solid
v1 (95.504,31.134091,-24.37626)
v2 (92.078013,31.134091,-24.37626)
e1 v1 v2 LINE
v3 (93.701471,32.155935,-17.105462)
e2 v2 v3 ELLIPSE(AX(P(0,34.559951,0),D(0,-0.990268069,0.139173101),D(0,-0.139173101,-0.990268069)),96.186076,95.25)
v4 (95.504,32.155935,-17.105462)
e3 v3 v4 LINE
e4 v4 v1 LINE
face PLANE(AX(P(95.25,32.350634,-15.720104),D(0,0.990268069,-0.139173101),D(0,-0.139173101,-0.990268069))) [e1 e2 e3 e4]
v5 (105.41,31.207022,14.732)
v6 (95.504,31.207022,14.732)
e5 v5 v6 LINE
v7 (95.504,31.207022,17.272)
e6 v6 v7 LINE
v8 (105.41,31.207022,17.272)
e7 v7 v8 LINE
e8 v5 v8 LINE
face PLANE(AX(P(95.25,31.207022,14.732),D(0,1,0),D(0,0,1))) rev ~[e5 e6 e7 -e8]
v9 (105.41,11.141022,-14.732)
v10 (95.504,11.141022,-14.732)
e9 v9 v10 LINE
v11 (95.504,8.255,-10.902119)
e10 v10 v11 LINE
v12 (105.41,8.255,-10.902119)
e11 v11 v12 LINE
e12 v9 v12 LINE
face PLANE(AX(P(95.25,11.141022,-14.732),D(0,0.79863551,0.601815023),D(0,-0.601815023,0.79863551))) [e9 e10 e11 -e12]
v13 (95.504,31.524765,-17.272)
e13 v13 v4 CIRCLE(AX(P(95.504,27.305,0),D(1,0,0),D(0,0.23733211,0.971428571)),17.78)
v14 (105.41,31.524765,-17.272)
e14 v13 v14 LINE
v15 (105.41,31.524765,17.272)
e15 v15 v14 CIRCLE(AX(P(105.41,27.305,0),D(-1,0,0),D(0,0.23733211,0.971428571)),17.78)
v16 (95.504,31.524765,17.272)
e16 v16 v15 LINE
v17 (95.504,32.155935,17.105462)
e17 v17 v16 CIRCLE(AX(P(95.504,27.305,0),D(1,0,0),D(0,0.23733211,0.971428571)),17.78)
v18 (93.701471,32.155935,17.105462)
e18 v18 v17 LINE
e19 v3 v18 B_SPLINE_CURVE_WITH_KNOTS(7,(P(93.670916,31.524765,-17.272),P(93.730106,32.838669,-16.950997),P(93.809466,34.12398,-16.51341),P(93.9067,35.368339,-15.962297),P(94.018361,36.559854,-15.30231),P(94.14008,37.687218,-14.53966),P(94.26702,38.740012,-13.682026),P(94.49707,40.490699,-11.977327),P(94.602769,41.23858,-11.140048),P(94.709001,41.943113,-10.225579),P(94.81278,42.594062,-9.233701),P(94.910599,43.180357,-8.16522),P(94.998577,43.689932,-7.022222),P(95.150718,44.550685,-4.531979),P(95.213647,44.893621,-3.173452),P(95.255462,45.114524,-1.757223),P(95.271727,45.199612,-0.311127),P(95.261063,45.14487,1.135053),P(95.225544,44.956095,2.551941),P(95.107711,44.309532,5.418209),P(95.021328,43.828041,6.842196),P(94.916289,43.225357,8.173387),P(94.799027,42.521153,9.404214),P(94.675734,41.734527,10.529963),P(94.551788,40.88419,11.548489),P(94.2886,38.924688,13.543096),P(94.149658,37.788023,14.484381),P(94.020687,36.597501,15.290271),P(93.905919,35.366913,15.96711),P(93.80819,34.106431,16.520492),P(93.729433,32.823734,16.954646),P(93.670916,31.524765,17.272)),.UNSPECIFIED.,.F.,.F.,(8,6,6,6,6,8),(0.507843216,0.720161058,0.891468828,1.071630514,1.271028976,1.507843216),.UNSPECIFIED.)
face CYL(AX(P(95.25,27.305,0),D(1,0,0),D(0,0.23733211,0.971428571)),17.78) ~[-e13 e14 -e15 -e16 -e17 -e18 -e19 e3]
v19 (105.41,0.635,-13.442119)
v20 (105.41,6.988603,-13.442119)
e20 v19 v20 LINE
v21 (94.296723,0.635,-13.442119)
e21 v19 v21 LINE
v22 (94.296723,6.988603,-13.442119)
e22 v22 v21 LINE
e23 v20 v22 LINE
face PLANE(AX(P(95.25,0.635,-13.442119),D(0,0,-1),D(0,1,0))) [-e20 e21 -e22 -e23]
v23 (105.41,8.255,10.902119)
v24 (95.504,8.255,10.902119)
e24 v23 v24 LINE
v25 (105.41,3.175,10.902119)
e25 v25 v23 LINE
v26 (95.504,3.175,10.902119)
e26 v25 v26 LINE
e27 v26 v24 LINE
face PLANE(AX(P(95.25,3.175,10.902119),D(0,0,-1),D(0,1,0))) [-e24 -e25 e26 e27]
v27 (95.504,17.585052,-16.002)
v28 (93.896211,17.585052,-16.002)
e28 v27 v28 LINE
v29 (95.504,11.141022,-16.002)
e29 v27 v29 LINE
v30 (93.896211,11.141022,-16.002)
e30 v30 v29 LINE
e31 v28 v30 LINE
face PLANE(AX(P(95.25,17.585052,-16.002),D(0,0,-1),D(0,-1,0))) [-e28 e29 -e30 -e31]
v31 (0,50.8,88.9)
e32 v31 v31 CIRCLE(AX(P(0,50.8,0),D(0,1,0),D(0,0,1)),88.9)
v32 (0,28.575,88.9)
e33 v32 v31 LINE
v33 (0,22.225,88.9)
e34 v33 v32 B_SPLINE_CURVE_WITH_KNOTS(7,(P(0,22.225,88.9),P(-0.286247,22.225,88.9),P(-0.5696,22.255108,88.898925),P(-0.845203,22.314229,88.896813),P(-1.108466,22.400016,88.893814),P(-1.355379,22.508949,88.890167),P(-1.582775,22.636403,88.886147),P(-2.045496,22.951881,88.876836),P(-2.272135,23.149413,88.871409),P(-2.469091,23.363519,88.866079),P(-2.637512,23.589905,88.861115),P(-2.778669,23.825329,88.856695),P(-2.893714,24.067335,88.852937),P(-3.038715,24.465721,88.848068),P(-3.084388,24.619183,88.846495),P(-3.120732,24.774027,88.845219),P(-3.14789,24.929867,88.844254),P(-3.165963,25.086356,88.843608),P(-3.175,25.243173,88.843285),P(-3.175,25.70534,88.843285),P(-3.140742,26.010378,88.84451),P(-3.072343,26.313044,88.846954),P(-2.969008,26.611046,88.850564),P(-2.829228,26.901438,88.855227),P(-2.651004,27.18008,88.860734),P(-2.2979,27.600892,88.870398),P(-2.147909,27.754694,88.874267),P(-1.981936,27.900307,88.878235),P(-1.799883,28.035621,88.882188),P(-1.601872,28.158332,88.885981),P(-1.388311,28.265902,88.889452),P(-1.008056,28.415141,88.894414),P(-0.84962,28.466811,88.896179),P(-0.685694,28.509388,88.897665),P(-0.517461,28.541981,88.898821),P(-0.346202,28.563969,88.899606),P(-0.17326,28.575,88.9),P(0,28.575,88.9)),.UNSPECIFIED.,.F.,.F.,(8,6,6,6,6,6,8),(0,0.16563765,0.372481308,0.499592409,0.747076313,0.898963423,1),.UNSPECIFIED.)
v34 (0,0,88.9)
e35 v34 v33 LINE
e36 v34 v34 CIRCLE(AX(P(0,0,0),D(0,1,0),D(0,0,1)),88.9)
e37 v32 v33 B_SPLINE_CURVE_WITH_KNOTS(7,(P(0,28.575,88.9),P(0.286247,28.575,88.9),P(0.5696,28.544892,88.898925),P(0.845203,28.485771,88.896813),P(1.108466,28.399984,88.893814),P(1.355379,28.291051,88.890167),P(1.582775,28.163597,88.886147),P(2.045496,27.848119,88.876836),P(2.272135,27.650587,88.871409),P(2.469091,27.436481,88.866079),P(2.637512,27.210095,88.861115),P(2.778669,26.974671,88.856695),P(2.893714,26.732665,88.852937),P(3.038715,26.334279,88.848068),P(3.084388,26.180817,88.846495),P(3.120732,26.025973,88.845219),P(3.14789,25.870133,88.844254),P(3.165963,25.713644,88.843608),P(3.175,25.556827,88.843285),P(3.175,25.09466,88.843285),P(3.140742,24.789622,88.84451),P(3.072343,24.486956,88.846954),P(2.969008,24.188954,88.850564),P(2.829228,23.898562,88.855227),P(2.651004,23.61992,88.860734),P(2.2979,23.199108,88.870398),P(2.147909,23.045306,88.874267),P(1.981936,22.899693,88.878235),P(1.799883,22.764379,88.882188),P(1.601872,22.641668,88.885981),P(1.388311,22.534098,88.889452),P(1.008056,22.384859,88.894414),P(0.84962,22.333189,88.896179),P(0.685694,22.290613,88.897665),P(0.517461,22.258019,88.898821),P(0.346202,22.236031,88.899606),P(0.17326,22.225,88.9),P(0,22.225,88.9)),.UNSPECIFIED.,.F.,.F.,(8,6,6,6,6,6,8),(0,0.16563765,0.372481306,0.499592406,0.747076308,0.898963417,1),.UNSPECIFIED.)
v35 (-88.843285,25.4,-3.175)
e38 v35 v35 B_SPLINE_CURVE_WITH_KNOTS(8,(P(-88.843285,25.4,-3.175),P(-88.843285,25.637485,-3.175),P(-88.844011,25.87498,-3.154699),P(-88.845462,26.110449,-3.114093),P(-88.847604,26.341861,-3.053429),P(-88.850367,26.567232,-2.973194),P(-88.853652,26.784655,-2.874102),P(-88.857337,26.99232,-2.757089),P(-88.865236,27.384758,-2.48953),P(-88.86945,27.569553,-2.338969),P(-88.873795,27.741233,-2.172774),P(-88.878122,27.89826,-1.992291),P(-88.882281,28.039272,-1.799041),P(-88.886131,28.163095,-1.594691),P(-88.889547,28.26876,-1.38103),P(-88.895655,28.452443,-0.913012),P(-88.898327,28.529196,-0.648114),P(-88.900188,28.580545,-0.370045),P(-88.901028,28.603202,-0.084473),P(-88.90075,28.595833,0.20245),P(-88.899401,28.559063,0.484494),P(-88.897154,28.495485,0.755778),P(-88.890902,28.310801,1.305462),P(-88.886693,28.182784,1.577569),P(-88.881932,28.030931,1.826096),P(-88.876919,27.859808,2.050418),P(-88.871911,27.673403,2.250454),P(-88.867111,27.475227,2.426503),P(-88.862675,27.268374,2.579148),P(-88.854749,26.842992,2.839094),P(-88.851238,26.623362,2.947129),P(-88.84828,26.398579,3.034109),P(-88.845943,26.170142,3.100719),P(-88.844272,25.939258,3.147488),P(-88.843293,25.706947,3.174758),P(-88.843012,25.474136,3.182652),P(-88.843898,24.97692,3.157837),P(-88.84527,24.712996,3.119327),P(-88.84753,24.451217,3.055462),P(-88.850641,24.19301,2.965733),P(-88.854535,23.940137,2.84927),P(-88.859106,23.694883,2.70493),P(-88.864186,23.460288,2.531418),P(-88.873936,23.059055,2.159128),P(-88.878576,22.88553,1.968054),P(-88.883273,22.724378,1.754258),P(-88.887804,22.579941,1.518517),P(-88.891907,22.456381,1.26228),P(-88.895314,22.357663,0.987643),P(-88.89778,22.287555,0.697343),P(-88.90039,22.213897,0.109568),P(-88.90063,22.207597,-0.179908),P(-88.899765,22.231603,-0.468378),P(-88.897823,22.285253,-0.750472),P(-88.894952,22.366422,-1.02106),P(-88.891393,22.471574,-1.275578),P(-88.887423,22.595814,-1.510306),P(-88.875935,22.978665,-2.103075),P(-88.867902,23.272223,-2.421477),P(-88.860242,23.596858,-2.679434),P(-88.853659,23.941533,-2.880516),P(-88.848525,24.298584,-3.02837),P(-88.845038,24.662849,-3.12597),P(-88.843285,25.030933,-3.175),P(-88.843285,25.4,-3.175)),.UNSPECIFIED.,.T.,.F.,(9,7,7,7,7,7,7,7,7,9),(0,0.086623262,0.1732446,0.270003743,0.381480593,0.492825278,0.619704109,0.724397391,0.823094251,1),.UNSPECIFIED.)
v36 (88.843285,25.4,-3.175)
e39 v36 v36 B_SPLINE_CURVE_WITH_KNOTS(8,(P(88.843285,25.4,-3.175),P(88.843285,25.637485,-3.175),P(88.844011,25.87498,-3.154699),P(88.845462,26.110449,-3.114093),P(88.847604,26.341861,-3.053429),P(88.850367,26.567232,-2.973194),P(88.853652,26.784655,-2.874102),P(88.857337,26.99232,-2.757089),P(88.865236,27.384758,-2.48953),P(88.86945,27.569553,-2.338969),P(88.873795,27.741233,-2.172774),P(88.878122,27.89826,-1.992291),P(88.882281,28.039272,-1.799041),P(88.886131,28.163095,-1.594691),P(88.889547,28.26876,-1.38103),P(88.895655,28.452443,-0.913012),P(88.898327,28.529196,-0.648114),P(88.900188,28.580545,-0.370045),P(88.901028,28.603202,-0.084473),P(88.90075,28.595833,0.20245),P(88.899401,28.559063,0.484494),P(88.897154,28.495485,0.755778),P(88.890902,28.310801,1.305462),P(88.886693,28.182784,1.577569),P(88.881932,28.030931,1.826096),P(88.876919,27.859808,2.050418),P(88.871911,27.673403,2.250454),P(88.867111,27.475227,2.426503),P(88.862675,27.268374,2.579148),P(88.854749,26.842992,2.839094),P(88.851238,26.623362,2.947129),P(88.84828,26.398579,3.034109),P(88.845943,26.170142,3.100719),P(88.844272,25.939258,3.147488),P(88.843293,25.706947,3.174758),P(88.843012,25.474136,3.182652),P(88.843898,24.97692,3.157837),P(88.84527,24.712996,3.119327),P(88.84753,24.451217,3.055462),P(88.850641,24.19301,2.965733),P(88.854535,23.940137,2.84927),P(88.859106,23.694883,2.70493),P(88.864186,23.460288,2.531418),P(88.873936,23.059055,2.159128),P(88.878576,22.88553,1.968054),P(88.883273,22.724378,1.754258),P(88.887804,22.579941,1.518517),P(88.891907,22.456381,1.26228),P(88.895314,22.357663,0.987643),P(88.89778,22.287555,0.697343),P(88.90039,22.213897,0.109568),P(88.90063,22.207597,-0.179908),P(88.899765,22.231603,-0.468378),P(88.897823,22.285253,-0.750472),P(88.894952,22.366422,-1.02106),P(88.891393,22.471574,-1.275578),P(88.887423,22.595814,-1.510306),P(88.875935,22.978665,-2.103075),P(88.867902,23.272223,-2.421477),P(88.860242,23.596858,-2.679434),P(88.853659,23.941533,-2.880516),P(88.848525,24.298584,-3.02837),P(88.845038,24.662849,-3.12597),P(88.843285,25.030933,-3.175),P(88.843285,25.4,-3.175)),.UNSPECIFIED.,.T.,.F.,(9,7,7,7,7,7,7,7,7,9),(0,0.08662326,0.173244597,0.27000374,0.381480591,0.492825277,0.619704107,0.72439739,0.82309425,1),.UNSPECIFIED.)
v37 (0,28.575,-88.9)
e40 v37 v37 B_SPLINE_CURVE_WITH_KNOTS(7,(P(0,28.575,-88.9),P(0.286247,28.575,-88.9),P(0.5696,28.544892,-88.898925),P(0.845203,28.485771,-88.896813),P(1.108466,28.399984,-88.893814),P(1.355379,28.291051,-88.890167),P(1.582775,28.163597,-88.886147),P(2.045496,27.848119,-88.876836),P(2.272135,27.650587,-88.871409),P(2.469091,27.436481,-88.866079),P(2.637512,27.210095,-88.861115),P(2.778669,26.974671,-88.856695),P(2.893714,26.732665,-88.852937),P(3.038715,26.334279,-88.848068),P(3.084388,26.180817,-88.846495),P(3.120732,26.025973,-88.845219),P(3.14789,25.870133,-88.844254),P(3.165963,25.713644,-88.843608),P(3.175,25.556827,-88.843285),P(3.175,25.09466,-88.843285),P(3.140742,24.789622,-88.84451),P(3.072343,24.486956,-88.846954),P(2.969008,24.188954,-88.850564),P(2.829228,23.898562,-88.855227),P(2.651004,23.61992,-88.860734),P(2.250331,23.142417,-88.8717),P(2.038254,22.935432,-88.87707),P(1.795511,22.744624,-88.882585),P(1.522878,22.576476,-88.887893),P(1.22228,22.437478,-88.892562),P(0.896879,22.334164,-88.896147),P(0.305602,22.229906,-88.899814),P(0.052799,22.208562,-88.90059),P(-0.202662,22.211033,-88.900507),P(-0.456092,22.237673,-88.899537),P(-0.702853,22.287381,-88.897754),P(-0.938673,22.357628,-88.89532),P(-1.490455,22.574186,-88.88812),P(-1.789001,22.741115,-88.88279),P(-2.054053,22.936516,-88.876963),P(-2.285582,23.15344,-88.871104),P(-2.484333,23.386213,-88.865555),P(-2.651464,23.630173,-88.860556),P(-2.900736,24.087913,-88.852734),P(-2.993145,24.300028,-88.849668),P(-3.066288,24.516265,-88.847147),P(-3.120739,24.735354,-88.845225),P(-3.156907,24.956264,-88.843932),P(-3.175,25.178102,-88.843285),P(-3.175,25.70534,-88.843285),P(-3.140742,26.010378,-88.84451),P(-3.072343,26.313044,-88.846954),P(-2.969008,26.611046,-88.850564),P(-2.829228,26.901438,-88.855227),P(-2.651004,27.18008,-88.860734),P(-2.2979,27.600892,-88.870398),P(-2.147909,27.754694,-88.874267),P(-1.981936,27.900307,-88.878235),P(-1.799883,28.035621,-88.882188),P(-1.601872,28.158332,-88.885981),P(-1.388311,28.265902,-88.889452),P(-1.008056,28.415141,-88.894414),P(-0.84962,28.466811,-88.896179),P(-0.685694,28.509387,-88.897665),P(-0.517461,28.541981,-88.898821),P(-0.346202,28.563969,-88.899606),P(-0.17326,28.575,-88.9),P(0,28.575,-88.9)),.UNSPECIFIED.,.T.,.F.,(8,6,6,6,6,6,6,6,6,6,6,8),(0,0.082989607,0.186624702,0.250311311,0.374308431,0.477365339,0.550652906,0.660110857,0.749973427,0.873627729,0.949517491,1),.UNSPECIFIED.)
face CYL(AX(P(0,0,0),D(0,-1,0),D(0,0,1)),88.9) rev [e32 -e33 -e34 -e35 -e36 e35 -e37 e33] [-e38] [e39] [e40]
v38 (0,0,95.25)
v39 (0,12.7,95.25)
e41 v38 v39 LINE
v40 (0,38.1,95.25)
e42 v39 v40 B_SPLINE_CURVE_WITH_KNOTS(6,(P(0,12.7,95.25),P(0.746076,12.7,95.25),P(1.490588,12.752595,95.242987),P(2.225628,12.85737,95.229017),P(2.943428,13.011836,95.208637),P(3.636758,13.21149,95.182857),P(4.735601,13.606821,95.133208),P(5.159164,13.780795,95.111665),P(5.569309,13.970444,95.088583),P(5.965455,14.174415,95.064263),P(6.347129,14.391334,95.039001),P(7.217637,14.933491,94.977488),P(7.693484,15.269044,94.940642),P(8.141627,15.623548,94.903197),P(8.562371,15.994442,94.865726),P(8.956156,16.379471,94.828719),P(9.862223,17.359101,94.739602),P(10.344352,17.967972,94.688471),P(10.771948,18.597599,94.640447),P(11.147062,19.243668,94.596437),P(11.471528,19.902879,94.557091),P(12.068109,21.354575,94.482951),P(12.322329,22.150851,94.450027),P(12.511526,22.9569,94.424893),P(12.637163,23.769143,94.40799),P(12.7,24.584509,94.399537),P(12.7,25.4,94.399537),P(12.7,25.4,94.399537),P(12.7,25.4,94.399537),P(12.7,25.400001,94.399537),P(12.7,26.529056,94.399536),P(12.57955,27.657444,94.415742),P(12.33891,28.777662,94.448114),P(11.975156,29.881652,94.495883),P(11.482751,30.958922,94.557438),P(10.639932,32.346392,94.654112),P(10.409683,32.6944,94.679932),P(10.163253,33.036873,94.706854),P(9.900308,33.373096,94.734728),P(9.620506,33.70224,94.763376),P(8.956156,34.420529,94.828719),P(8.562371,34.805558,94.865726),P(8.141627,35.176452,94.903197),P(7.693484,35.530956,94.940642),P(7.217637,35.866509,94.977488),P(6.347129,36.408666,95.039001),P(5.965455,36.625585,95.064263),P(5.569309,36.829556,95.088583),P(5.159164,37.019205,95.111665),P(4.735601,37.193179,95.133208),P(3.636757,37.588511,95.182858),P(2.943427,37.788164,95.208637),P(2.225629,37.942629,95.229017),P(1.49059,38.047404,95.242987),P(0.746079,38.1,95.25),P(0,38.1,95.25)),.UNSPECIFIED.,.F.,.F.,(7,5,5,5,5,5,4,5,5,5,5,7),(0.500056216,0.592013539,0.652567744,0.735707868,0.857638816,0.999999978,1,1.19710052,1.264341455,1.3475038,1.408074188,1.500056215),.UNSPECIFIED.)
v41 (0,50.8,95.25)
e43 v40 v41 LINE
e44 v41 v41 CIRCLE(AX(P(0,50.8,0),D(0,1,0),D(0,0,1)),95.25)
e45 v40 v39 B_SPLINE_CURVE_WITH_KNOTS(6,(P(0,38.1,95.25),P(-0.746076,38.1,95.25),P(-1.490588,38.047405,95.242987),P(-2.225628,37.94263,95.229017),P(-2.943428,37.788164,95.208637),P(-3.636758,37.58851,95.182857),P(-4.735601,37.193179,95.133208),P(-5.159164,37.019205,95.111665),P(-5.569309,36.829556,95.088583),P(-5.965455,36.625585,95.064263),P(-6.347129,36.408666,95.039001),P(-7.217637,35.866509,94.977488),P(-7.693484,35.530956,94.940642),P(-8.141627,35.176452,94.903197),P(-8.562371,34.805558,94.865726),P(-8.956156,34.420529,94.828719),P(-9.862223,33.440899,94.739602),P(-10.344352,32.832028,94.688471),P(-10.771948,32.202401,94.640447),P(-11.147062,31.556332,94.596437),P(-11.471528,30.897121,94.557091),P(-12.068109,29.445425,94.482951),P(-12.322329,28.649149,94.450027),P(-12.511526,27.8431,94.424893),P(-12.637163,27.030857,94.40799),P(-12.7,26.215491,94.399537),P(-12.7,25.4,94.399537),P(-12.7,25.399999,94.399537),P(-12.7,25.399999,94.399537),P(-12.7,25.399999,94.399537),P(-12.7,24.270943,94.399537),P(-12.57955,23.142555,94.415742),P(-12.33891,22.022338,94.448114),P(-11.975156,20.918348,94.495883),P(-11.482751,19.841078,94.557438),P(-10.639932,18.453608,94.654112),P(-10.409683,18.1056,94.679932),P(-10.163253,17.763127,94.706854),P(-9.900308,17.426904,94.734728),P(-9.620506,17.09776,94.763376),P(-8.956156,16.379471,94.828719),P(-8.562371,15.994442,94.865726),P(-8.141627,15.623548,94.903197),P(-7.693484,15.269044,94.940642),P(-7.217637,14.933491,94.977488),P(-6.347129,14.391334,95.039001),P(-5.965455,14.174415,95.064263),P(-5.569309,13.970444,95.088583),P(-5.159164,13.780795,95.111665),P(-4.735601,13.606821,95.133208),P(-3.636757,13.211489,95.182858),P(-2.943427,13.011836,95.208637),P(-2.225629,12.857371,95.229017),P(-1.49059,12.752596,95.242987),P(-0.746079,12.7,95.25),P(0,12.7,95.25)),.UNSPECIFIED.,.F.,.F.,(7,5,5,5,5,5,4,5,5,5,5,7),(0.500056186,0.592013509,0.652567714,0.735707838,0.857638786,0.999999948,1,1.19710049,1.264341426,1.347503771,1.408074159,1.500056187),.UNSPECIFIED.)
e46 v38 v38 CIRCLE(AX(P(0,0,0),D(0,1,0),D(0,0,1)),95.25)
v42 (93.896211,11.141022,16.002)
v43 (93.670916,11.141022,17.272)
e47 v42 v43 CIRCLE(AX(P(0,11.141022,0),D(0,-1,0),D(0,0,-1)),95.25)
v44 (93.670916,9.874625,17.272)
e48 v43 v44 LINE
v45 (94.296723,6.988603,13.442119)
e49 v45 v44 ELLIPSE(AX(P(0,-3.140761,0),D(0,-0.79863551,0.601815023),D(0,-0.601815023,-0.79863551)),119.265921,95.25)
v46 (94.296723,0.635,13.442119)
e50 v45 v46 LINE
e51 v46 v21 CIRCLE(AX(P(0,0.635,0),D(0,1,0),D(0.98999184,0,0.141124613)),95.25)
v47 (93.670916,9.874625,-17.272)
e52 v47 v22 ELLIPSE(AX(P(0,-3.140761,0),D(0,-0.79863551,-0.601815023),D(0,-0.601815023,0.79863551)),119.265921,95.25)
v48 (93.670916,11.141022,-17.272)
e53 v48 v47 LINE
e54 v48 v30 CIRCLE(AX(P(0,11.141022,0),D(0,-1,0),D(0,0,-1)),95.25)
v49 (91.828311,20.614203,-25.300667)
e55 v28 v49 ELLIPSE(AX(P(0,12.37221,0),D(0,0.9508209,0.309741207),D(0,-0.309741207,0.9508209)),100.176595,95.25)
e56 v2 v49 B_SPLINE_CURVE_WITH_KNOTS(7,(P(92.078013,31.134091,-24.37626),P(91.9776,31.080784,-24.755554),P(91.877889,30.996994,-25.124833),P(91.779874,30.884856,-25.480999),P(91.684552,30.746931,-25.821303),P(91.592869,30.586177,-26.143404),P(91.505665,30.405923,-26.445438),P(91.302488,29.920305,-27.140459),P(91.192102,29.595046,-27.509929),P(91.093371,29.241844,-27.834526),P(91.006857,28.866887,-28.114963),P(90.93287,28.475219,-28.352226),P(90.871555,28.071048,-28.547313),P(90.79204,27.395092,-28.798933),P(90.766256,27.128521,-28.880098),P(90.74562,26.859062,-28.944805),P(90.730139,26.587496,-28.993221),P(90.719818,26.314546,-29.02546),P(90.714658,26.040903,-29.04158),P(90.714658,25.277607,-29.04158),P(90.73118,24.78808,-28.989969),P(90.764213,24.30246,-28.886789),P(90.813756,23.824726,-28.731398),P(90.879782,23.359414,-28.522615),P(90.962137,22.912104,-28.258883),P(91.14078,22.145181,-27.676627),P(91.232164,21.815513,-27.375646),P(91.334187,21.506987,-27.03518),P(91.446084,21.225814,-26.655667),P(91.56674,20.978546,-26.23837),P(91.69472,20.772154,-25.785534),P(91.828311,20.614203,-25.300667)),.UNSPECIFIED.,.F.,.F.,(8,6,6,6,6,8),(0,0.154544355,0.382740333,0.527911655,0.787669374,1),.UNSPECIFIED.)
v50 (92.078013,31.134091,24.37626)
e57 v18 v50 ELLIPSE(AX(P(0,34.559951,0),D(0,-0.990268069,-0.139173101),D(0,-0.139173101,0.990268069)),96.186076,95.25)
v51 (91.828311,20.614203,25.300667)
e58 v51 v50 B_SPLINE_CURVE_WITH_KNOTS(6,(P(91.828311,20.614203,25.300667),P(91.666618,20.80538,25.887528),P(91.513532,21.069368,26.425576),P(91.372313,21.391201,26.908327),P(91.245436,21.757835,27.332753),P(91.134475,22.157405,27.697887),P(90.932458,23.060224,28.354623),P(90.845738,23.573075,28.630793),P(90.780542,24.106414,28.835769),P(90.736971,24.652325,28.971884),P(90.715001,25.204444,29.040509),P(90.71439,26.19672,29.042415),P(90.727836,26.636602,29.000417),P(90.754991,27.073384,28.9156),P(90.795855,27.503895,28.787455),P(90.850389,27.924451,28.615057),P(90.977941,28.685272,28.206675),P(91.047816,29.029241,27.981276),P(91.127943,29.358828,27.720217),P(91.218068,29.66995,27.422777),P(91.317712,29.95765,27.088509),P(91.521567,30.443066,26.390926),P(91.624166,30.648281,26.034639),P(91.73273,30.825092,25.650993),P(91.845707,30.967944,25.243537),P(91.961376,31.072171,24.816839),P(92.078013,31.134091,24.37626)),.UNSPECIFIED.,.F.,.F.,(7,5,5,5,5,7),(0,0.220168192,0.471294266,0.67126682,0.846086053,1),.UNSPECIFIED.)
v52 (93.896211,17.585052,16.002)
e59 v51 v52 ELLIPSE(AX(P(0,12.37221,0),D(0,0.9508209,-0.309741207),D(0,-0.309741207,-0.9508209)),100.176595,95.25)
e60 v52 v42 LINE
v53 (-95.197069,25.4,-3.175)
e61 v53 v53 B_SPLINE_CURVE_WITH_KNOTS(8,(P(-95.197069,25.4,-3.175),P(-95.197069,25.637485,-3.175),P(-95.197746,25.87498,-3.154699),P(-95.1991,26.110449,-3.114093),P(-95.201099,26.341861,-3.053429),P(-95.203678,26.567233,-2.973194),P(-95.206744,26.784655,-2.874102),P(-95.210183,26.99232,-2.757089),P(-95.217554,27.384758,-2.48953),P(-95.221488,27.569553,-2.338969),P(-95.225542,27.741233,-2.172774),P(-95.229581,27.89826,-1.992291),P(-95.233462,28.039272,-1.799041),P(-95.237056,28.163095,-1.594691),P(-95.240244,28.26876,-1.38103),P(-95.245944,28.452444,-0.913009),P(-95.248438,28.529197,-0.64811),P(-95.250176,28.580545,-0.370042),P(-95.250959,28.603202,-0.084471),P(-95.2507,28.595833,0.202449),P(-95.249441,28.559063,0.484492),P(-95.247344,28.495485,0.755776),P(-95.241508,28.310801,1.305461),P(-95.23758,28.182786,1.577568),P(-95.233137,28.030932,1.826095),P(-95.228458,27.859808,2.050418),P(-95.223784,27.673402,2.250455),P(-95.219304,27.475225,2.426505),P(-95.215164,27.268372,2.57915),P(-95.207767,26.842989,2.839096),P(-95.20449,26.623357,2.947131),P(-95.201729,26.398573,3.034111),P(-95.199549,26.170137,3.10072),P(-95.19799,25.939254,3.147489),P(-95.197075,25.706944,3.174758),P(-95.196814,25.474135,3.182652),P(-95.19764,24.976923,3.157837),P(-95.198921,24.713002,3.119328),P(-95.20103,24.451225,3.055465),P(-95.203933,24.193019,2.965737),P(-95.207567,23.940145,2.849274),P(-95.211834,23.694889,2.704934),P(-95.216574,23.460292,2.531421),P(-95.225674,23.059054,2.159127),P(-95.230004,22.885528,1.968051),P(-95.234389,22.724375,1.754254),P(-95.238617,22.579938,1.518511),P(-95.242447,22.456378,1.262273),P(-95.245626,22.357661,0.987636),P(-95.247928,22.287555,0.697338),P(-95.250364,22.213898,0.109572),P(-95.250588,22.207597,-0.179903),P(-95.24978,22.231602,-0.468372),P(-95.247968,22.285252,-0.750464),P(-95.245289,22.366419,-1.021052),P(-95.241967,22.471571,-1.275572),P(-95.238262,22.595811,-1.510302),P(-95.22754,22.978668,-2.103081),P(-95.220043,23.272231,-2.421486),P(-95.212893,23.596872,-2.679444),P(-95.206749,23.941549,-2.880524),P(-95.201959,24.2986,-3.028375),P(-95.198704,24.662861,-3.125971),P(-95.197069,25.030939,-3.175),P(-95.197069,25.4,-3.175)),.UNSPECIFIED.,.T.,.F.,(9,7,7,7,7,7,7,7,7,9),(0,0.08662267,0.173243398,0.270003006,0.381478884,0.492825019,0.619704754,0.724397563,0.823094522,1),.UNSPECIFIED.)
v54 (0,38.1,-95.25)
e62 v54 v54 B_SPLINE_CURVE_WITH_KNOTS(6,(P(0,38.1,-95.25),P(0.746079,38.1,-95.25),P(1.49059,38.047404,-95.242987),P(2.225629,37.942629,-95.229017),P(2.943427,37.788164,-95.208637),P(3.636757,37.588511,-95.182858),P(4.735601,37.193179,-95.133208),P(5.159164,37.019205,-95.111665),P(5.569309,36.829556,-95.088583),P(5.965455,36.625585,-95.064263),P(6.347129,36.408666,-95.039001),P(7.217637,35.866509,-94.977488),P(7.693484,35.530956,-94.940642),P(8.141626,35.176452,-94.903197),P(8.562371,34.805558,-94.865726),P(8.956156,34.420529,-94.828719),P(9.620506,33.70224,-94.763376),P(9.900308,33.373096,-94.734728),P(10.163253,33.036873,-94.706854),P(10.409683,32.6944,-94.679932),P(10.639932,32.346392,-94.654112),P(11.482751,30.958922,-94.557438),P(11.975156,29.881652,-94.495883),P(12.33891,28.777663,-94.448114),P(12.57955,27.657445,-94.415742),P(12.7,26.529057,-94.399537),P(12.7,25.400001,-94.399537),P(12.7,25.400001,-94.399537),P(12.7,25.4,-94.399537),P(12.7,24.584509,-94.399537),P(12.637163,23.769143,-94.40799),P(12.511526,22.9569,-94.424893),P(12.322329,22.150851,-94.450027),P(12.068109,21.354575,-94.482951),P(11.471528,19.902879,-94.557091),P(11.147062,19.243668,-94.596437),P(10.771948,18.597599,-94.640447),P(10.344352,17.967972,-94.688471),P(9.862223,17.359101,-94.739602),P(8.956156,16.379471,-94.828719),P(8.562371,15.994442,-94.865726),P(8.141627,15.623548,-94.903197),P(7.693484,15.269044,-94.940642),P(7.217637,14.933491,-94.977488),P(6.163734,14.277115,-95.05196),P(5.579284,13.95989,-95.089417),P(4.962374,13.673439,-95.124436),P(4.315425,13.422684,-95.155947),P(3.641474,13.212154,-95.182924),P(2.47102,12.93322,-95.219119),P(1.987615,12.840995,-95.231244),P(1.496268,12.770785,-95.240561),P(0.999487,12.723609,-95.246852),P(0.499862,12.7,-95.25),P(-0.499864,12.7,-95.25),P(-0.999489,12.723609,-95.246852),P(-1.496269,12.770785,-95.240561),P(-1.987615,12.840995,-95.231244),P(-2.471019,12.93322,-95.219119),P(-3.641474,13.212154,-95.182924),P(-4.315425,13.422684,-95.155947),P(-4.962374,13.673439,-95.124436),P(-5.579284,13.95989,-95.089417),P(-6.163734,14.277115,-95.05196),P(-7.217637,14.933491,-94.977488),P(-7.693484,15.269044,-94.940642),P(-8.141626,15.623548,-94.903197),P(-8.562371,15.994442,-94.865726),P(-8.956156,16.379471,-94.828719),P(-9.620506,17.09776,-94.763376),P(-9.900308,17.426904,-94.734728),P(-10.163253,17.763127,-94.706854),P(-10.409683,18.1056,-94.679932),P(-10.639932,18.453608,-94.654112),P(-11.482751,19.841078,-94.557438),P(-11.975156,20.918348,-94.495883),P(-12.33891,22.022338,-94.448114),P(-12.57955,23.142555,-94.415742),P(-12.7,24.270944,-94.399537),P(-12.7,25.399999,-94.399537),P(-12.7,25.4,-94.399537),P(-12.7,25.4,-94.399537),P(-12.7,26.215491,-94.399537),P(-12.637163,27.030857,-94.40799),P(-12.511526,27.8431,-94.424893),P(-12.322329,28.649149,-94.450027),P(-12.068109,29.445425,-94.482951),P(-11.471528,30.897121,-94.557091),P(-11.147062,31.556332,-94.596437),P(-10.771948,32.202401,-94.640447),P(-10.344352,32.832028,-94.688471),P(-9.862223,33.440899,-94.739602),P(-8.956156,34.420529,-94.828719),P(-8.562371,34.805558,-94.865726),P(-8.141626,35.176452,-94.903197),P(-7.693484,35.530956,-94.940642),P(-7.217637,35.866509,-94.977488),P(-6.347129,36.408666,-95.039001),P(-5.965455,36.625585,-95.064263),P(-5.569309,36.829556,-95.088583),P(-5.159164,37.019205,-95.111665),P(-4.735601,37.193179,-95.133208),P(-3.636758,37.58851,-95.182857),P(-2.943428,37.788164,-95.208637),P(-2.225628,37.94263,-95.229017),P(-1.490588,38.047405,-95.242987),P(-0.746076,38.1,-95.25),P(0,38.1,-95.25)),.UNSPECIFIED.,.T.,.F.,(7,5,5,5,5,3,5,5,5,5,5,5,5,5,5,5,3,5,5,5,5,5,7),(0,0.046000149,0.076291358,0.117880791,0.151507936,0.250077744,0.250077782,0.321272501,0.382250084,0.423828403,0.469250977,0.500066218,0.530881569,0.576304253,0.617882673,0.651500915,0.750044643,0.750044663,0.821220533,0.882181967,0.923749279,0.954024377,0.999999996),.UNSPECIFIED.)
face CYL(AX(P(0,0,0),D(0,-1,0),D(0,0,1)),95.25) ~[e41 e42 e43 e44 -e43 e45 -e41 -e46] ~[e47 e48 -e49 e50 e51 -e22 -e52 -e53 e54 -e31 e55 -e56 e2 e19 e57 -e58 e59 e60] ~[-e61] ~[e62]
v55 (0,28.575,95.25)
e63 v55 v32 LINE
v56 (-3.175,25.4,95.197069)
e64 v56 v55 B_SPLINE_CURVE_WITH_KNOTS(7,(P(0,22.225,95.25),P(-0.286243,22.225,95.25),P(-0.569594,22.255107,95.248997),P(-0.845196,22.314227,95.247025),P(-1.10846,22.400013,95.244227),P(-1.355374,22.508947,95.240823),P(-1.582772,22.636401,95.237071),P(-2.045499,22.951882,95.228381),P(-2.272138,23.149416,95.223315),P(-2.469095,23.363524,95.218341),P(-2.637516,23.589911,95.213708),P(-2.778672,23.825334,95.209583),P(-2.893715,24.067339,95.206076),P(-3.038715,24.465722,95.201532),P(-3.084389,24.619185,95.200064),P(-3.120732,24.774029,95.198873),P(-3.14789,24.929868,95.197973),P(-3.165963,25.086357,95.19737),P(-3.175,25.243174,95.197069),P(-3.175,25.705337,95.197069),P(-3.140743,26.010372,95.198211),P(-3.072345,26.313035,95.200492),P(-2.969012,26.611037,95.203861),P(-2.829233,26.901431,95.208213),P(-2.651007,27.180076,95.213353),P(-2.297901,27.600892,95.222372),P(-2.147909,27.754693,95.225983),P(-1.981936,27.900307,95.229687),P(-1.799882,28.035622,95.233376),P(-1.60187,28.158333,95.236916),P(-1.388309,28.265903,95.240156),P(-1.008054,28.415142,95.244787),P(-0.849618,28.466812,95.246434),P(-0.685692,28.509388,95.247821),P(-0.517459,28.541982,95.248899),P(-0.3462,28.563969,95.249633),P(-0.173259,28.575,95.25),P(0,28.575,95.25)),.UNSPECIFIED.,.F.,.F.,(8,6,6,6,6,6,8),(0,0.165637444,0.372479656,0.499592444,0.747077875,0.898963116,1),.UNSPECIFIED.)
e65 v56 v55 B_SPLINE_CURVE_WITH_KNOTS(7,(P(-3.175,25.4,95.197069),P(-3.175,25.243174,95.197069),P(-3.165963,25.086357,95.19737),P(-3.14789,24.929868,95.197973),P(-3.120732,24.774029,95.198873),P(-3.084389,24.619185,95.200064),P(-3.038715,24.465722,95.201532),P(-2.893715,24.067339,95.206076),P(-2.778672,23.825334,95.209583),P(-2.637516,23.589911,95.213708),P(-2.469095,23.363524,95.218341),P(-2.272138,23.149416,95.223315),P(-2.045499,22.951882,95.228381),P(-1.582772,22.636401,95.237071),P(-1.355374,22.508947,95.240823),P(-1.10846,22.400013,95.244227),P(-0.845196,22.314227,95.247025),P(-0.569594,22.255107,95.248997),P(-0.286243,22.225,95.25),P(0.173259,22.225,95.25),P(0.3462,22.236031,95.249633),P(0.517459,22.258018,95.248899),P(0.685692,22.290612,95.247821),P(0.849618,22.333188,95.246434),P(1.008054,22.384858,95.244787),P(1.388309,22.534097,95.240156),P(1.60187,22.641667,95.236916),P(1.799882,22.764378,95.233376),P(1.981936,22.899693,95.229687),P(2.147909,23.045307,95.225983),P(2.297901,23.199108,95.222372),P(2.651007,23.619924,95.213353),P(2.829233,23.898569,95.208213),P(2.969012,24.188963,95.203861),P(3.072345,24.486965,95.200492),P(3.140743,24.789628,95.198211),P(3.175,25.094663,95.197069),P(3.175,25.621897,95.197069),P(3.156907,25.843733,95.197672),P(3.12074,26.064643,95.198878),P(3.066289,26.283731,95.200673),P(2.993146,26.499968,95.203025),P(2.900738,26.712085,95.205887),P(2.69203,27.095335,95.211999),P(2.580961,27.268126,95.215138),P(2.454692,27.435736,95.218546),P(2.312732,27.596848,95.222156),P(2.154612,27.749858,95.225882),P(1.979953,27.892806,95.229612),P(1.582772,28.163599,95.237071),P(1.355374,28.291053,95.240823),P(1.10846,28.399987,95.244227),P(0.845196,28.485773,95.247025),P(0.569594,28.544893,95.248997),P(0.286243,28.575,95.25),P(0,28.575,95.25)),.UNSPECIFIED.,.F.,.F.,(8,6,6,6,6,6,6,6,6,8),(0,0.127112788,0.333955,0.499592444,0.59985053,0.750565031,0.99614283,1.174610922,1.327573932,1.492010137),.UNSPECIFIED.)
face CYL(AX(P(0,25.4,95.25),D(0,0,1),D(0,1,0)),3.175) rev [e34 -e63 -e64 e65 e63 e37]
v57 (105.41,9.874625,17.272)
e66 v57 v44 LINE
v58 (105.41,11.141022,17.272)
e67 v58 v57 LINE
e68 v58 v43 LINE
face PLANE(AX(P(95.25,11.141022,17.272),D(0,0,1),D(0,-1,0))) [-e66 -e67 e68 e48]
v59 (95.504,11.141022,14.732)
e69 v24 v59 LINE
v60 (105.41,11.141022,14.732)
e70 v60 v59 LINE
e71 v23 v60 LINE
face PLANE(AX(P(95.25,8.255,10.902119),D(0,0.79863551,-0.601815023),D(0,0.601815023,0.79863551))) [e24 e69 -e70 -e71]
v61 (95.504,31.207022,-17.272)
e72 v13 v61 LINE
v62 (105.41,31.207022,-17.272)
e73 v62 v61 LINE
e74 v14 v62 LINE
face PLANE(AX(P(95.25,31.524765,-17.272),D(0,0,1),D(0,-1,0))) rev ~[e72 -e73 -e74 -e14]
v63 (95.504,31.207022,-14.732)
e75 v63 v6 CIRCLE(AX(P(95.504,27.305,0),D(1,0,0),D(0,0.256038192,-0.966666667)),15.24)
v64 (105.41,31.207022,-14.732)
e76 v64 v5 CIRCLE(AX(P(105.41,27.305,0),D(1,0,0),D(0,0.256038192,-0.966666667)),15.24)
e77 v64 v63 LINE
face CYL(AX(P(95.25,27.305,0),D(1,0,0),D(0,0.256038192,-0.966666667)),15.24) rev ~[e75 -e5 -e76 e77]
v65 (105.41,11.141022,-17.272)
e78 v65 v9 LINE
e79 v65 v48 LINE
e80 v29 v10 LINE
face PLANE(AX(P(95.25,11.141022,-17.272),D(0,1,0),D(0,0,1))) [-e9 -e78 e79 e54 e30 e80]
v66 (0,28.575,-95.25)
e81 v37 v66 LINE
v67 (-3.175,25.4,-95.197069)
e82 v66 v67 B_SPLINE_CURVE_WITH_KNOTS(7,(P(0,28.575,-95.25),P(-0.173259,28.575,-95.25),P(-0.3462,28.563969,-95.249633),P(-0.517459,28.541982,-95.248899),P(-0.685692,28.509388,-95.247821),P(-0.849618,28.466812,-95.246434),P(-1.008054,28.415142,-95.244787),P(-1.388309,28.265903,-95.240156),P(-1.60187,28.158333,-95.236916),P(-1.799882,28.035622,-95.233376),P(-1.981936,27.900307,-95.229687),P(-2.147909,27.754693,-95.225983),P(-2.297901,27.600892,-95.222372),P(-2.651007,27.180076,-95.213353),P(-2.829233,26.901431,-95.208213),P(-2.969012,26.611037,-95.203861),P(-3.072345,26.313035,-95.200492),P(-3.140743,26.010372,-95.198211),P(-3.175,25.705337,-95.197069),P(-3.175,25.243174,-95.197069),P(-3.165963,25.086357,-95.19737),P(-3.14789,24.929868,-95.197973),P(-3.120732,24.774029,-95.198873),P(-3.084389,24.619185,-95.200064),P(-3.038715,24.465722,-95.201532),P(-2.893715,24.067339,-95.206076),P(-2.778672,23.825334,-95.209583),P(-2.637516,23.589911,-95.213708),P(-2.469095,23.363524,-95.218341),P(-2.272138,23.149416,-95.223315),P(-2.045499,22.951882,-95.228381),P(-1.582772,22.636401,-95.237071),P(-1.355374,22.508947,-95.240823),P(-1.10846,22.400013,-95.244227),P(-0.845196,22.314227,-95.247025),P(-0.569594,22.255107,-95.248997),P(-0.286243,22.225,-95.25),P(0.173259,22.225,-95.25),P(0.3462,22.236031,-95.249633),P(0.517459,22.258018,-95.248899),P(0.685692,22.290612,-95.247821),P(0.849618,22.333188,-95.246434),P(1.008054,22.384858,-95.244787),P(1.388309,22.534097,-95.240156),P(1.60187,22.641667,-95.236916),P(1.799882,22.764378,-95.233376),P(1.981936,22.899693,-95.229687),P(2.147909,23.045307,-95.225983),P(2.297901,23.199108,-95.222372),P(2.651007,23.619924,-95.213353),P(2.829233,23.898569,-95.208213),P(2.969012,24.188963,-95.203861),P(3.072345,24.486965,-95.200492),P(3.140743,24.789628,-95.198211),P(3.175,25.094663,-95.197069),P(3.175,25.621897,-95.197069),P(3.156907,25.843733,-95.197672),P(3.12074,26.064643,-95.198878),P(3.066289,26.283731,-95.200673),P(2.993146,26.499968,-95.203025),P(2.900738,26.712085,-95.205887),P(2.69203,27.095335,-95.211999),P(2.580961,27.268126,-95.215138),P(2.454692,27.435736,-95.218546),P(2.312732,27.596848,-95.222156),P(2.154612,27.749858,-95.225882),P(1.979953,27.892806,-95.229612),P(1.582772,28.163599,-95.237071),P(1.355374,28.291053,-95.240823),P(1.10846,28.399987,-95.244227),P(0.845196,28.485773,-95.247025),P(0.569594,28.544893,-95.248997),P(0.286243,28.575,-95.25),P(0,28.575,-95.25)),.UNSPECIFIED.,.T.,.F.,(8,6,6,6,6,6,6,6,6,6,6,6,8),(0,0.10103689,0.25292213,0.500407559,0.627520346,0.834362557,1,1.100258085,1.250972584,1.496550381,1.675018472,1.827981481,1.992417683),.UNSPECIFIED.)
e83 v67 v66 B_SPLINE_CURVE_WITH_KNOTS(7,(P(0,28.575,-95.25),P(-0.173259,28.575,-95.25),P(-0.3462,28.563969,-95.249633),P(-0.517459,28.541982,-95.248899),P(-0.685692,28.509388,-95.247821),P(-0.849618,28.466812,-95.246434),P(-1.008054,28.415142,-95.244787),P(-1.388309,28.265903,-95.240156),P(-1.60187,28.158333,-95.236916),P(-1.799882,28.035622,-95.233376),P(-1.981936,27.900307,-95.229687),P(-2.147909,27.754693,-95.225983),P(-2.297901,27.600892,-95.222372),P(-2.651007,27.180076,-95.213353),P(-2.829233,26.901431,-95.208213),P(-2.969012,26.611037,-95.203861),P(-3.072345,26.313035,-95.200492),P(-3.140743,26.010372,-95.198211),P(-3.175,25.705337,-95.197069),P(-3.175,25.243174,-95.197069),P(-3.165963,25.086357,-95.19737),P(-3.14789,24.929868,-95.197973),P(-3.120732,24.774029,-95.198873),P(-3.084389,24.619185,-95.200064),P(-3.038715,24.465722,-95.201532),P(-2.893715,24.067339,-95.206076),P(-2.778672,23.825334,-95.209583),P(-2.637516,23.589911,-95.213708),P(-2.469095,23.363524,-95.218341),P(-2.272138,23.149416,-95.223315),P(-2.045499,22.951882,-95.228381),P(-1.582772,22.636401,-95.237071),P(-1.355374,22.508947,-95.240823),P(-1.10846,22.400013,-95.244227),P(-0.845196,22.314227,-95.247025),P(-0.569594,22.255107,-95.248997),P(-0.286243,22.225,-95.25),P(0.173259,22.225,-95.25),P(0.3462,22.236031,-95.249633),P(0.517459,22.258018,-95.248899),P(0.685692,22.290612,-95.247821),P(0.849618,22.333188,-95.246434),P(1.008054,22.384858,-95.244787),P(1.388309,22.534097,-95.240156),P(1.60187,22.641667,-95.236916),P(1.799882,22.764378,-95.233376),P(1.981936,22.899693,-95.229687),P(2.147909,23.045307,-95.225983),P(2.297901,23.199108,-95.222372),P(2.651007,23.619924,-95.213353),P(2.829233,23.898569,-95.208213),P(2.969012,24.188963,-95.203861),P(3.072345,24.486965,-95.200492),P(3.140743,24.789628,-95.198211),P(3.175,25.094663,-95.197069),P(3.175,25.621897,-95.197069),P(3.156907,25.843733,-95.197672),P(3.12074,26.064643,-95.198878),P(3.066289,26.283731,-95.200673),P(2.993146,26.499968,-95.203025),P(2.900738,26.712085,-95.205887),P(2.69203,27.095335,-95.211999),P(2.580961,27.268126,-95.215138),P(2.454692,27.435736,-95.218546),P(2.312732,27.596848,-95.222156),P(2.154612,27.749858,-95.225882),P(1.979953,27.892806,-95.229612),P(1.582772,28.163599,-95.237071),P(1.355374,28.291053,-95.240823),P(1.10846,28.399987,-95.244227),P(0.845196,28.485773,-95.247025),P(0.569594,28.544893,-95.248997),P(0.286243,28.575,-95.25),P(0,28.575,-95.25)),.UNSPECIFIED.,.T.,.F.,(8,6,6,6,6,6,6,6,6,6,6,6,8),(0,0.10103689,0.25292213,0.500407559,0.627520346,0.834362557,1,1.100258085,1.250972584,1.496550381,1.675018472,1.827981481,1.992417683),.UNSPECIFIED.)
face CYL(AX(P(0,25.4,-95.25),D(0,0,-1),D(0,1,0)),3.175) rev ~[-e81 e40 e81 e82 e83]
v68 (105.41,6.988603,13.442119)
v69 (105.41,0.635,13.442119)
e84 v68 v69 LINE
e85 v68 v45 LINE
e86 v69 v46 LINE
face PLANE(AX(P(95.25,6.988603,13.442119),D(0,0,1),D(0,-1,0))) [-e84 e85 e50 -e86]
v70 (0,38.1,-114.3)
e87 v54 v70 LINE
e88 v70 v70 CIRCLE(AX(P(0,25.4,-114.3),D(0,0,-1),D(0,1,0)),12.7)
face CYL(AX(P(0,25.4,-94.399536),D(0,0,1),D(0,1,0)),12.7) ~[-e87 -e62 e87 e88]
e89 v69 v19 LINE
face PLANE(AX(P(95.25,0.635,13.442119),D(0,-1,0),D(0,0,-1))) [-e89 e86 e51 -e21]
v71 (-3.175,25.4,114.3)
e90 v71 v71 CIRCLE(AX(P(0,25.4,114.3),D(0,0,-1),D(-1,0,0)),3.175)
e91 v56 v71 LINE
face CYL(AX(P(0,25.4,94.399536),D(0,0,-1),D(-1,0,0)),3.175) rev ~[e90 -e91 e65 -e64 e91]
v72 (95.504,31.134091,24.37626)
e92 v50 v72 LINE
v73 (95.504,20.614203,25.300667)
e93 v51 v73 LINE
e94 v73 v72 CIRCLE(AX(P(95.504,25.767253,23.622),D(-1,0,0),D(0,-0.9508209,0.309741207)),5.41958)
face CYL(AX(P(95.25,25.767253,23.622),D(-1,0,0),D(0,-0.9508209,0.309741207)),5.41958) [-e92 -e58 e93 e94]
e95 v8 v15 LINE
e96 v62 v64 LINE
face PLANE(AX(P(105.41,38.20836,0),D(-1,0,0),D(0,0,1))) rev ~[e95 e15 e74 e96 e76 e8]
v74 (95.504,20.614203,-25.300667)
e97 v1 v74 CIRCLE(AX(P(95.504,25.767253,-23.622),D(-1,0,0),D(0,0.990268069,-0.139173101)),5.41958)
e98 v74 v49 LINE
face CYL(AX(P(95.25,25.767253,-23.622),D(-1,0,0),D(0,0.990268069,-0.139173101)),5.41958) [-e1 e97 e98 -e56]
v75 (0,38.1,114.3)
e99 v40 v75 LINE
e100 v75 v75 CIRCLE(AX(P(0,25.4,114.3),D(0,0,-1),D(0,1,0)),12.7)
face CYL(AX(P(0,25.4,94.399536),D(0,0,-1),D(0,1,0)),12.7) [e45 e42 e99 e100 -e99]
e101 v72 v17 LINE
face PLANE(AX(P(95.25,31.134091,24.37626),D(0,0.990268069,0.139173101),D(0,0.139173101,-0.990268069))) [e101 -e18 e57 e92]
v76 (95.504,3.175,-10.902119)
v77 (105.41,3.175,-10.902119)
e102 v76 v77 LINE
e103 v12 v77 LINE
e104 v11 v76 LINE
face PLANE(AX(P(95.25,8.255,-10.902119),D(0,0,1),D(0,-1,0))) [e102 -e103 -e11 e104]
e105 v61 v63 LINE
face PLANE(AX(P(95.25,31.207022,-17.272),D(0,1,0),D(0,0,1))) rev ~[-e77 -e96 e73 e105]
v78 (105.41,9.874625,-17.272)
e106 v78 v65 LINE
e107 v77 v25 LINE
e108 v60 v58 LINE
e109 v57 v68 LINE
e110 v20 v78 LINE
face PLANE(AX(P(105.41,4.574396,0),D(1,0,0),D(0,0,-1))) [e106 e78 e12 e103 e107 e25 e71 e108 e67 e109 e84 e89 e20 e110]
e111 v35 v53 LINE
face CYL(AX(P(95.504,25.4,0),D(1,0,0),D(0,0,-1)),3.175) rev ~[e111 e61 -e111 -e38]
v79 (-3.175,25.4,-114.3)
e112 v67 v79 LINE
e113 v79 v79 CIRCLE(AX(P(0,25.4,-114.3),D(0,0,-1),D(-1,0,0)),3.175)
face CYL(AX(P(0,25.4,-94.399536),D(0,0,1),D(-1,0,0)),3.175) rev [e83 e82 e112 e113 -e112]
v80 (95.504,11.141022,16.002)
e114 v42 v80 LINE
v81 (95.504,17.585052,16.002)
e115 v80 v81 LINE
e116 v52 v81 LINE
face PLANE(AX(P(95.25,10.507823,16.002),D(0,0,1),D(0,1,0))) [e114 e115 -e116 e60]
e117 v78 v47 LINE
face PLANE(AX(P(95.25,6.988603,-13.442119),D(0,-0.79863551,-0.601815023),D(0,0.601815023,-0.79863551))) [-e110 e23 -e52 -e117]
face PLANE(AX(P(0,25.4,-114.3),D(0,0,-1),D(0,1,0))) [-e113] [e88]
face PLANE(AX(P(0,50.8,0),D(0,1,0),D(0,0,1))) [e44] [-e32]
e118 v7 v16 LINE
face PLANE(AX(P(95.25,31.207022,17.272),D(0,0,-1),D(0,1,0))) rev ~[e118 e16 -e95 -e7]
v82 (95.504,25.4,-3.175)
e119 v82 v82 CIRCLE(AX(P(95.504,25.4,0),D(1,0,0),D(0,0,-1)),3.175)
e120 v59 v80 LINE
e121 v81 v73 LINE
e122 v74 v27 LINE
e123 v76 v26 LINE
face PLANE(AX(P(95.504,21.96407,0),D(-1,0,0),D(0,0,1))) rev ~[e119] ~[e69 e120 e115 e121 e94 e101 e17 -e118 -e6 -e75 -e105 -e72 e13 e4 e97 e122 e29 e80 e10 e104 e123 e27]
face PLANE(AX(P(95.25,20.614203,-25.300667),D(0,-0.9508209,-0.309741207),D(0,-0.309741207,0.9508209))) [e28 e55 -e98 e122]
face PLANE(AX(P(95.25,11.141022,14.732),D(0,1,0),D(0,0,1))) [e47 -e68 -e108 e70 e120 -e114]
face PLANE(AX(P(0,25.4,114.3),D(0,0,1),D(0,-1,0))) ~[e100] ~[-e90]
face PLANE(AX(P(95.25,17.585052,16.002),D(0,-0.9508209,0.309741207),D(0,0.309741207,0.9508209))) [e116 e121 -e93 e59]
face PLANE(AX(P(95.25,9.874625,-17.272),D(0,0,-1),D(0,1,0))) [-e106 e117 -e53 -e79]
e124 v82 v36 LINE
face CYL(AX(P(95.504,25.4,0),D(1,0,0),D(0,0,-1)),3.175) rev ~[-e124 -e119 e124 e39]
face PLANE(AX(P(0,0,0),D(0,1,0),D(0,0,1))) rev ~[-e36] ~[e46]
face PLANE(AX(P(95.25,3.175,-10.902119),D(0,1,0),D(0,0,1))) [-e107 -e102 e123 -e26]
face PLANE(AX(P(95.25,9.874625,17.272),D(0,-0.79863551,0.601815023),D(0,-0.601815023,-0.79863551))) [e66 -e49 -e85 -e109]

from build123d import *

# Parameters (mm, degrees)
SKETCH1_R                            = 95.25
SKETCH1_R_2                          = 88.9
BOSS_EXTRUDE1_DEPTH                  = 50.8
SKETCH4_R                            = 3.175
CUT_EXTRUDE2_DEPTH                   = 10.16
BOSS_EXTRUDE3_DEPTH                  = 10.16
BOSS_EXTRUDE3_DIRECTION_2_REACH      = 220.96
BOSS_EXTRUDE3_DIRECTION_2_END_RADIUS = 95.25
BOSS_EXTRUDE9_REACH                  = 220.96
BOSS_EXTRUDE9_END_RADIUS             = 95.25
BOSS_EXTRUDE9_DIRECTION_2_DEPTH      = 0.254
SKETCH7_R                            = 3.175
CUT_EXTRUDE3_DEPTH                   = 220.180955111
BOSS_EXTRUDE10_START                 = -0.850464
SKETCH8_R                            = 12.7
SKETCH8_R_2                          = 3.175
BOSS_EXTRUDE10_DEPTH                 = 19.900464


with BuildPart() as part:
    # Sketch1 → Boss-Extrude1 (new body)
    with BuildSketch(Plane(origin=(0, 0, 0), x_dir=(1, 0, 0), z_dir=(0, 1, 0))):
        with Locations(Location((0, 0, 0), (0, 0, 270))):
            Circle(SKETCH1_R)
        with Locations(Location((0, 0, 0), (0, 0, 270))):
            Circle(SKETCH1_R_2, mode=Mode.SUBTRACT)
    extrude(amount=BOSS_EXTRUDE1_DEPTH)

    # Sketch4 → Cut-Extrude2 (cut)
    with BuildSketch(Plane(origin=(0, 0, -95.25), x_dir=(-1, 0, 0), z_dir=(0, 0, -1))):
        with Locations(Location((0, 25.4, 0), (0, 0, 90))):
            Circle(SKETCH4_R)
    cut_extrude2 = extrude(amount=-CUT_EXTRUDE2_DEPTH, mode=Mode.SUBTRACT)

    # Mirror2: Cut-Extrude2 across plane
    add(cut_extrude2.mirror(Plane.XY), mode=Mode.SUBTRACT)

    # Sketch5 → Boss-Extrude3 (add)
    with BuildSketch(Plane(origin=(95.25, 0, 0), x_dir=(0, 0, -1), z_dir=(1, 0, 0))):
        Polygon((14.732, 11.14102204), (10.902119397, 8.255), (10.902119397, 3.175), (-10.902119397, 3.175), (-10.902119397, 8.255), (-14.732, 11.14102204), (-17.272, 11.14102204), (-17.272, 9.874624755), (-13.442119397, 6.988602716), (-13.442119397, 0.635), (13.442119397, 0.635), (13.442119397, 6.988602716), (17.272, 9.874624755), (17.272, 11.14102204), align=None)
        with BuildLine():
            Line((17.272, 31.524764922), (17.272, 31.20702204))
            Line((17.272, 31.20702204), (14.732, 31.20702204))
            ThreePointArc((14.732, 31.20702204), (0, 42.545), (-14.732, 31.20702204))
            Line((-14.732, 31.20702204), (-17.272, 31.20702204))
            Line((-17.272, 31.20702204), (-17.272, 31.524764922))
            ThreePointArc((-17.272, 31.524764922), (0, 45.085), (17.272, 31.524764922))
        make_face()
    extrude(amount=BOSS_EXTRUDE3_DEPTH)

    # Boss-Extrude3 direction 2: up to this cylinder (the profile starts outside it)
    boss_extrude3_direction_2_end = Plane(origin=(0, 20.387773, 0), z_dir=(0, -1, 0)) * Cylinder(BOSS_EXTRUDE3_DIRECTION_2_END_RADIUS, 655.37624, mode=Mode.PRIVATE)
    # Sketch5 → Boss-Extrude3 direction 2 (add, up to the surface)
    with BuildSketch(Plane(origin=(95.25, 0, 0), x_dir=(0, 0, -1), z_dir=(1, 0, 0)), mode=Mode.PRIVATE) as boss_extrude3_direction_2_sk1:
        Polygon((14.732, 11.14102204), (10.902119397, 8.255), (10.902119397, 3.175), (-10.902119397, 3.175), (-10.902119397, 8.255), (-14.732, 11.14102204), (-17.272, 11.14102204), (-17.272, 9.874624755), (-13.442119397, 6.988602716), (-13.442119397, 0.635), (13.442119397, 0.635), (13.442119397, 6.988602716), (17.272, 9.874624755), (17.272, 11.14102204), align=None)
    boss_extrude3_direction_2_tool1 = extrude(boss_extrude3_direction_2_sk1.sketch, amount=-BOSS_EXTRUDE3_DIRECTION_2_REACH, mode=Mode.PRIVATE) - boss_extrude3_direction_2_end
    add(boss_extrude3_direction_2_tool1.solids().sort_by_distance((95.25, 9.409653, -13.034353))[0])
    add(boss_extrude3_direction_2_tool1.solids().sort_by_distance((95.25, 9.409653, -13.034353))[1])
    # Sketch5 → Boss-Extrude3 direction 2 (add, up to the surface)
    with BuildSketch(Plane(origin=(95.25, 0, 0), x_dir=(0, 0, -1), z_dir=(1, 0, 0)), mode=Mode.PRIVATE) as boss_extrude3_direction_2_sk2:
        with BuildLine():
            Line((17.272, 31.524764922), (17.272, 31.20702204))
            Line((17.272, 31.20702204), (14.732, 31.20702204))
            ThreePointArc((14.732, 31.20702204), (0, 42.545), (-14.732, 31.20702204))
            Line((-14.732, 31.20702204), (-17.272, 31.20702204))
            Line((-17.272, 31.20702204), (-17.272, 31.524764922))
            ThreePointArc((-17.272, 31.524764922), (0, 45.085), (17.272, 31.524764922))
        make_face()
    boss_extrude3_direction_2_tool2 = extrude(boss_extrude3_direction_2_sk2.sketch, amount=-BOSS_EXTRUDE3_DIRECTION_2_REACH, mode=Mode.PRIVATE) - boss_extrude3_direction_2_end
    add(boss_extrude3_direction_2_tool2.solids().sort_by_distance((95.25, 31.365893, -16.899725))[0])
    add(boss_extrude3_direction_2_tool2.solids().sort_by_distance((95.25, 31.365893, -16.899725))[1])

    # Boss-Extrude9: up to this cylinder (the profile starts outside it)
    boss_extrude9_end = Plane(origin=(0, 22.775292, 0), z_dir=(0, -1, 0)) * Cylinder(BOSS_EXTRUDE9_END_RADIUS, 633.42, mode=Mode.PRIVATE)
    # Sketch6 → Boss-Extrude9 (add, up to the surface)
    with BuildSketch(Plane(origin=(95.25, 0, 0), x_dir=(0, 0, -1), z_dir=(1, 0, 0)), mode=Mode.PRIVATE) as boss_extrude9_sk1:
        with BuildLine():
            Line((15.720104226, 32.350634064), (24.376259803, 31.134090734))
            ThreePointArc((24.376259803, 31.134090734), (29.020776957, 26.241656743), (25.300667362, 20.614203096))
            Line((25.300667362, 20.614203096), (16.002, 17.585051702))
            Line((16.002, 17.585051702), (16.002, 10.507823398))
            Line((16.002, 10.507823398), (12.172119397, 7.621801358))
            Line((12.172119397, 7.621801358), (12.172119397, 1.905))
            Line((12.172119397, 1.905), (-12.172119397, 1.905))
            Line((-12.172119397, 1.905), (-12.172119397, 7.621801358))
            Line((-12.172119397, 7.621801358), (-16.002, 10.507823398))
            Line((-16.002, 10.507823398), (-16.002, 17.585051702))
            Line((-16.002, 17.585051702), (-25.300667362, 20.614203096))
            ThreePointArc((-25.300667362, 20.614203096), (-29.020776957, 26.241656743), (-24.376259803, 31.134090734))
            Line((-24.376259803, 31.134090734), (-15.720104226, 32.350634064))
            ThreePointArc((-15.720104226, 32.350634064), (0, 43.815), (15.720104226, 32.350634064))
        make_face()
    boss_extrude9_tool1 = extrude(boss_extrude9_sk1.sketch, amount=-BOSS_EXTRUDE9_REACH, mode=Mode.PRIVATE) - boss_extrude9_end
    add(boss_extrude9_tool1.solids().sort_by_distance((95.25, 22.775292, 0))[0])
    add(boss_extrude9_tool1.solids().sort_by_distance((95.25, 22.775292, 0))[1])

    # Sketch6 → Boss-Extrude9 direction 2 (add)
    with BuildSketch(Plane(origin=(95.25, 0, 0), x_dir=(0, 0, -1), z_dir=(1, 0, 0))):
        with BuildLine():
            Line((15.720104226, 32.350634064), (24.376259803, 31.134090734))
            ThreePointArc((24.376259803, 31.134090734), (29.020776957, 26.241656743), (25.300667362, 20.614203096))
            Line((25.300667362, 20.614203096), (16.002, 17.585051702))
            Line((16.002, 17.585051702), (16.002, 10.507823398))
            Line((16.002, 10.507823398), (12.172119397, 7.621801358))
            Line((12.172119397, 7.621801358), (12.172119397, 1.905))
            Line((12.172119397, 1.905), (-12.172119397, 1.905))
            Line((-12.172119397, 1.905), (-12.172119397, 7.621801358))
            Line((-12.172119397, 7.621801358), (-16.002, 10.507823398))
            Line((-16.002, 10.507823398), (-16.002, 17.585051702))
            Line((-16.002, 17.585051702), (-25.300667362, 20.614203096))
            ThreePointArc((-25.300667362, 20.614203096), (-29.020776957, 26.241656743), (-24.376259803, 31.134090734))
            Line((-24.376259803, 31.134090734), (-15.720104226, 32.350634064))
            ThreePointArc((-15.720104226, 32.350634064), (0, 43.815), (15.720104226, 32.350634064))
        make_face()
    extrude(amount=BOSS_EXTRUDE9_DIRECTION_2_DEPTH)

    # Sketch7 → Cut-Extrude3 (cut, through all)
    with BuildSketch(Plane(origin=(95.504, 0, 0), x_dir=(0, 0, -1), z_dir=(1, 0, 0))):
        with Locations((0, 25.4)):
            Circle(SKETCH7_R)
    extrude(amount=-CUT_EXTRUDE3_DEPTH, mode=Mode.SUBTRACT)

    # Sketch8 → Boss-Extrude10 (add)
    with BuildSketch(Plane(origin=(0, 0, -95.25), x_dir=(-1, 0, 0), z_dir=(0, 0, -1)).offset(BOSS_EXTRUDE10_START)):
        with Locations(Location((0, 25.4, 0), (0, 0, 90))):
            Circle(SKETCH8_R)
        with Locations((0, 25.4)):
            Circle(SKETCH8_R_2, mode=Mode.SUBTRACT)
    boss_extrude10 = extrude(amount=BOSS_EXTRUDE10_DEPTH)

    # Mirror3: Boss-Extrude10 across plane
    add(boss_extrude10.mirror(Plane.XY))


solid = part.part
